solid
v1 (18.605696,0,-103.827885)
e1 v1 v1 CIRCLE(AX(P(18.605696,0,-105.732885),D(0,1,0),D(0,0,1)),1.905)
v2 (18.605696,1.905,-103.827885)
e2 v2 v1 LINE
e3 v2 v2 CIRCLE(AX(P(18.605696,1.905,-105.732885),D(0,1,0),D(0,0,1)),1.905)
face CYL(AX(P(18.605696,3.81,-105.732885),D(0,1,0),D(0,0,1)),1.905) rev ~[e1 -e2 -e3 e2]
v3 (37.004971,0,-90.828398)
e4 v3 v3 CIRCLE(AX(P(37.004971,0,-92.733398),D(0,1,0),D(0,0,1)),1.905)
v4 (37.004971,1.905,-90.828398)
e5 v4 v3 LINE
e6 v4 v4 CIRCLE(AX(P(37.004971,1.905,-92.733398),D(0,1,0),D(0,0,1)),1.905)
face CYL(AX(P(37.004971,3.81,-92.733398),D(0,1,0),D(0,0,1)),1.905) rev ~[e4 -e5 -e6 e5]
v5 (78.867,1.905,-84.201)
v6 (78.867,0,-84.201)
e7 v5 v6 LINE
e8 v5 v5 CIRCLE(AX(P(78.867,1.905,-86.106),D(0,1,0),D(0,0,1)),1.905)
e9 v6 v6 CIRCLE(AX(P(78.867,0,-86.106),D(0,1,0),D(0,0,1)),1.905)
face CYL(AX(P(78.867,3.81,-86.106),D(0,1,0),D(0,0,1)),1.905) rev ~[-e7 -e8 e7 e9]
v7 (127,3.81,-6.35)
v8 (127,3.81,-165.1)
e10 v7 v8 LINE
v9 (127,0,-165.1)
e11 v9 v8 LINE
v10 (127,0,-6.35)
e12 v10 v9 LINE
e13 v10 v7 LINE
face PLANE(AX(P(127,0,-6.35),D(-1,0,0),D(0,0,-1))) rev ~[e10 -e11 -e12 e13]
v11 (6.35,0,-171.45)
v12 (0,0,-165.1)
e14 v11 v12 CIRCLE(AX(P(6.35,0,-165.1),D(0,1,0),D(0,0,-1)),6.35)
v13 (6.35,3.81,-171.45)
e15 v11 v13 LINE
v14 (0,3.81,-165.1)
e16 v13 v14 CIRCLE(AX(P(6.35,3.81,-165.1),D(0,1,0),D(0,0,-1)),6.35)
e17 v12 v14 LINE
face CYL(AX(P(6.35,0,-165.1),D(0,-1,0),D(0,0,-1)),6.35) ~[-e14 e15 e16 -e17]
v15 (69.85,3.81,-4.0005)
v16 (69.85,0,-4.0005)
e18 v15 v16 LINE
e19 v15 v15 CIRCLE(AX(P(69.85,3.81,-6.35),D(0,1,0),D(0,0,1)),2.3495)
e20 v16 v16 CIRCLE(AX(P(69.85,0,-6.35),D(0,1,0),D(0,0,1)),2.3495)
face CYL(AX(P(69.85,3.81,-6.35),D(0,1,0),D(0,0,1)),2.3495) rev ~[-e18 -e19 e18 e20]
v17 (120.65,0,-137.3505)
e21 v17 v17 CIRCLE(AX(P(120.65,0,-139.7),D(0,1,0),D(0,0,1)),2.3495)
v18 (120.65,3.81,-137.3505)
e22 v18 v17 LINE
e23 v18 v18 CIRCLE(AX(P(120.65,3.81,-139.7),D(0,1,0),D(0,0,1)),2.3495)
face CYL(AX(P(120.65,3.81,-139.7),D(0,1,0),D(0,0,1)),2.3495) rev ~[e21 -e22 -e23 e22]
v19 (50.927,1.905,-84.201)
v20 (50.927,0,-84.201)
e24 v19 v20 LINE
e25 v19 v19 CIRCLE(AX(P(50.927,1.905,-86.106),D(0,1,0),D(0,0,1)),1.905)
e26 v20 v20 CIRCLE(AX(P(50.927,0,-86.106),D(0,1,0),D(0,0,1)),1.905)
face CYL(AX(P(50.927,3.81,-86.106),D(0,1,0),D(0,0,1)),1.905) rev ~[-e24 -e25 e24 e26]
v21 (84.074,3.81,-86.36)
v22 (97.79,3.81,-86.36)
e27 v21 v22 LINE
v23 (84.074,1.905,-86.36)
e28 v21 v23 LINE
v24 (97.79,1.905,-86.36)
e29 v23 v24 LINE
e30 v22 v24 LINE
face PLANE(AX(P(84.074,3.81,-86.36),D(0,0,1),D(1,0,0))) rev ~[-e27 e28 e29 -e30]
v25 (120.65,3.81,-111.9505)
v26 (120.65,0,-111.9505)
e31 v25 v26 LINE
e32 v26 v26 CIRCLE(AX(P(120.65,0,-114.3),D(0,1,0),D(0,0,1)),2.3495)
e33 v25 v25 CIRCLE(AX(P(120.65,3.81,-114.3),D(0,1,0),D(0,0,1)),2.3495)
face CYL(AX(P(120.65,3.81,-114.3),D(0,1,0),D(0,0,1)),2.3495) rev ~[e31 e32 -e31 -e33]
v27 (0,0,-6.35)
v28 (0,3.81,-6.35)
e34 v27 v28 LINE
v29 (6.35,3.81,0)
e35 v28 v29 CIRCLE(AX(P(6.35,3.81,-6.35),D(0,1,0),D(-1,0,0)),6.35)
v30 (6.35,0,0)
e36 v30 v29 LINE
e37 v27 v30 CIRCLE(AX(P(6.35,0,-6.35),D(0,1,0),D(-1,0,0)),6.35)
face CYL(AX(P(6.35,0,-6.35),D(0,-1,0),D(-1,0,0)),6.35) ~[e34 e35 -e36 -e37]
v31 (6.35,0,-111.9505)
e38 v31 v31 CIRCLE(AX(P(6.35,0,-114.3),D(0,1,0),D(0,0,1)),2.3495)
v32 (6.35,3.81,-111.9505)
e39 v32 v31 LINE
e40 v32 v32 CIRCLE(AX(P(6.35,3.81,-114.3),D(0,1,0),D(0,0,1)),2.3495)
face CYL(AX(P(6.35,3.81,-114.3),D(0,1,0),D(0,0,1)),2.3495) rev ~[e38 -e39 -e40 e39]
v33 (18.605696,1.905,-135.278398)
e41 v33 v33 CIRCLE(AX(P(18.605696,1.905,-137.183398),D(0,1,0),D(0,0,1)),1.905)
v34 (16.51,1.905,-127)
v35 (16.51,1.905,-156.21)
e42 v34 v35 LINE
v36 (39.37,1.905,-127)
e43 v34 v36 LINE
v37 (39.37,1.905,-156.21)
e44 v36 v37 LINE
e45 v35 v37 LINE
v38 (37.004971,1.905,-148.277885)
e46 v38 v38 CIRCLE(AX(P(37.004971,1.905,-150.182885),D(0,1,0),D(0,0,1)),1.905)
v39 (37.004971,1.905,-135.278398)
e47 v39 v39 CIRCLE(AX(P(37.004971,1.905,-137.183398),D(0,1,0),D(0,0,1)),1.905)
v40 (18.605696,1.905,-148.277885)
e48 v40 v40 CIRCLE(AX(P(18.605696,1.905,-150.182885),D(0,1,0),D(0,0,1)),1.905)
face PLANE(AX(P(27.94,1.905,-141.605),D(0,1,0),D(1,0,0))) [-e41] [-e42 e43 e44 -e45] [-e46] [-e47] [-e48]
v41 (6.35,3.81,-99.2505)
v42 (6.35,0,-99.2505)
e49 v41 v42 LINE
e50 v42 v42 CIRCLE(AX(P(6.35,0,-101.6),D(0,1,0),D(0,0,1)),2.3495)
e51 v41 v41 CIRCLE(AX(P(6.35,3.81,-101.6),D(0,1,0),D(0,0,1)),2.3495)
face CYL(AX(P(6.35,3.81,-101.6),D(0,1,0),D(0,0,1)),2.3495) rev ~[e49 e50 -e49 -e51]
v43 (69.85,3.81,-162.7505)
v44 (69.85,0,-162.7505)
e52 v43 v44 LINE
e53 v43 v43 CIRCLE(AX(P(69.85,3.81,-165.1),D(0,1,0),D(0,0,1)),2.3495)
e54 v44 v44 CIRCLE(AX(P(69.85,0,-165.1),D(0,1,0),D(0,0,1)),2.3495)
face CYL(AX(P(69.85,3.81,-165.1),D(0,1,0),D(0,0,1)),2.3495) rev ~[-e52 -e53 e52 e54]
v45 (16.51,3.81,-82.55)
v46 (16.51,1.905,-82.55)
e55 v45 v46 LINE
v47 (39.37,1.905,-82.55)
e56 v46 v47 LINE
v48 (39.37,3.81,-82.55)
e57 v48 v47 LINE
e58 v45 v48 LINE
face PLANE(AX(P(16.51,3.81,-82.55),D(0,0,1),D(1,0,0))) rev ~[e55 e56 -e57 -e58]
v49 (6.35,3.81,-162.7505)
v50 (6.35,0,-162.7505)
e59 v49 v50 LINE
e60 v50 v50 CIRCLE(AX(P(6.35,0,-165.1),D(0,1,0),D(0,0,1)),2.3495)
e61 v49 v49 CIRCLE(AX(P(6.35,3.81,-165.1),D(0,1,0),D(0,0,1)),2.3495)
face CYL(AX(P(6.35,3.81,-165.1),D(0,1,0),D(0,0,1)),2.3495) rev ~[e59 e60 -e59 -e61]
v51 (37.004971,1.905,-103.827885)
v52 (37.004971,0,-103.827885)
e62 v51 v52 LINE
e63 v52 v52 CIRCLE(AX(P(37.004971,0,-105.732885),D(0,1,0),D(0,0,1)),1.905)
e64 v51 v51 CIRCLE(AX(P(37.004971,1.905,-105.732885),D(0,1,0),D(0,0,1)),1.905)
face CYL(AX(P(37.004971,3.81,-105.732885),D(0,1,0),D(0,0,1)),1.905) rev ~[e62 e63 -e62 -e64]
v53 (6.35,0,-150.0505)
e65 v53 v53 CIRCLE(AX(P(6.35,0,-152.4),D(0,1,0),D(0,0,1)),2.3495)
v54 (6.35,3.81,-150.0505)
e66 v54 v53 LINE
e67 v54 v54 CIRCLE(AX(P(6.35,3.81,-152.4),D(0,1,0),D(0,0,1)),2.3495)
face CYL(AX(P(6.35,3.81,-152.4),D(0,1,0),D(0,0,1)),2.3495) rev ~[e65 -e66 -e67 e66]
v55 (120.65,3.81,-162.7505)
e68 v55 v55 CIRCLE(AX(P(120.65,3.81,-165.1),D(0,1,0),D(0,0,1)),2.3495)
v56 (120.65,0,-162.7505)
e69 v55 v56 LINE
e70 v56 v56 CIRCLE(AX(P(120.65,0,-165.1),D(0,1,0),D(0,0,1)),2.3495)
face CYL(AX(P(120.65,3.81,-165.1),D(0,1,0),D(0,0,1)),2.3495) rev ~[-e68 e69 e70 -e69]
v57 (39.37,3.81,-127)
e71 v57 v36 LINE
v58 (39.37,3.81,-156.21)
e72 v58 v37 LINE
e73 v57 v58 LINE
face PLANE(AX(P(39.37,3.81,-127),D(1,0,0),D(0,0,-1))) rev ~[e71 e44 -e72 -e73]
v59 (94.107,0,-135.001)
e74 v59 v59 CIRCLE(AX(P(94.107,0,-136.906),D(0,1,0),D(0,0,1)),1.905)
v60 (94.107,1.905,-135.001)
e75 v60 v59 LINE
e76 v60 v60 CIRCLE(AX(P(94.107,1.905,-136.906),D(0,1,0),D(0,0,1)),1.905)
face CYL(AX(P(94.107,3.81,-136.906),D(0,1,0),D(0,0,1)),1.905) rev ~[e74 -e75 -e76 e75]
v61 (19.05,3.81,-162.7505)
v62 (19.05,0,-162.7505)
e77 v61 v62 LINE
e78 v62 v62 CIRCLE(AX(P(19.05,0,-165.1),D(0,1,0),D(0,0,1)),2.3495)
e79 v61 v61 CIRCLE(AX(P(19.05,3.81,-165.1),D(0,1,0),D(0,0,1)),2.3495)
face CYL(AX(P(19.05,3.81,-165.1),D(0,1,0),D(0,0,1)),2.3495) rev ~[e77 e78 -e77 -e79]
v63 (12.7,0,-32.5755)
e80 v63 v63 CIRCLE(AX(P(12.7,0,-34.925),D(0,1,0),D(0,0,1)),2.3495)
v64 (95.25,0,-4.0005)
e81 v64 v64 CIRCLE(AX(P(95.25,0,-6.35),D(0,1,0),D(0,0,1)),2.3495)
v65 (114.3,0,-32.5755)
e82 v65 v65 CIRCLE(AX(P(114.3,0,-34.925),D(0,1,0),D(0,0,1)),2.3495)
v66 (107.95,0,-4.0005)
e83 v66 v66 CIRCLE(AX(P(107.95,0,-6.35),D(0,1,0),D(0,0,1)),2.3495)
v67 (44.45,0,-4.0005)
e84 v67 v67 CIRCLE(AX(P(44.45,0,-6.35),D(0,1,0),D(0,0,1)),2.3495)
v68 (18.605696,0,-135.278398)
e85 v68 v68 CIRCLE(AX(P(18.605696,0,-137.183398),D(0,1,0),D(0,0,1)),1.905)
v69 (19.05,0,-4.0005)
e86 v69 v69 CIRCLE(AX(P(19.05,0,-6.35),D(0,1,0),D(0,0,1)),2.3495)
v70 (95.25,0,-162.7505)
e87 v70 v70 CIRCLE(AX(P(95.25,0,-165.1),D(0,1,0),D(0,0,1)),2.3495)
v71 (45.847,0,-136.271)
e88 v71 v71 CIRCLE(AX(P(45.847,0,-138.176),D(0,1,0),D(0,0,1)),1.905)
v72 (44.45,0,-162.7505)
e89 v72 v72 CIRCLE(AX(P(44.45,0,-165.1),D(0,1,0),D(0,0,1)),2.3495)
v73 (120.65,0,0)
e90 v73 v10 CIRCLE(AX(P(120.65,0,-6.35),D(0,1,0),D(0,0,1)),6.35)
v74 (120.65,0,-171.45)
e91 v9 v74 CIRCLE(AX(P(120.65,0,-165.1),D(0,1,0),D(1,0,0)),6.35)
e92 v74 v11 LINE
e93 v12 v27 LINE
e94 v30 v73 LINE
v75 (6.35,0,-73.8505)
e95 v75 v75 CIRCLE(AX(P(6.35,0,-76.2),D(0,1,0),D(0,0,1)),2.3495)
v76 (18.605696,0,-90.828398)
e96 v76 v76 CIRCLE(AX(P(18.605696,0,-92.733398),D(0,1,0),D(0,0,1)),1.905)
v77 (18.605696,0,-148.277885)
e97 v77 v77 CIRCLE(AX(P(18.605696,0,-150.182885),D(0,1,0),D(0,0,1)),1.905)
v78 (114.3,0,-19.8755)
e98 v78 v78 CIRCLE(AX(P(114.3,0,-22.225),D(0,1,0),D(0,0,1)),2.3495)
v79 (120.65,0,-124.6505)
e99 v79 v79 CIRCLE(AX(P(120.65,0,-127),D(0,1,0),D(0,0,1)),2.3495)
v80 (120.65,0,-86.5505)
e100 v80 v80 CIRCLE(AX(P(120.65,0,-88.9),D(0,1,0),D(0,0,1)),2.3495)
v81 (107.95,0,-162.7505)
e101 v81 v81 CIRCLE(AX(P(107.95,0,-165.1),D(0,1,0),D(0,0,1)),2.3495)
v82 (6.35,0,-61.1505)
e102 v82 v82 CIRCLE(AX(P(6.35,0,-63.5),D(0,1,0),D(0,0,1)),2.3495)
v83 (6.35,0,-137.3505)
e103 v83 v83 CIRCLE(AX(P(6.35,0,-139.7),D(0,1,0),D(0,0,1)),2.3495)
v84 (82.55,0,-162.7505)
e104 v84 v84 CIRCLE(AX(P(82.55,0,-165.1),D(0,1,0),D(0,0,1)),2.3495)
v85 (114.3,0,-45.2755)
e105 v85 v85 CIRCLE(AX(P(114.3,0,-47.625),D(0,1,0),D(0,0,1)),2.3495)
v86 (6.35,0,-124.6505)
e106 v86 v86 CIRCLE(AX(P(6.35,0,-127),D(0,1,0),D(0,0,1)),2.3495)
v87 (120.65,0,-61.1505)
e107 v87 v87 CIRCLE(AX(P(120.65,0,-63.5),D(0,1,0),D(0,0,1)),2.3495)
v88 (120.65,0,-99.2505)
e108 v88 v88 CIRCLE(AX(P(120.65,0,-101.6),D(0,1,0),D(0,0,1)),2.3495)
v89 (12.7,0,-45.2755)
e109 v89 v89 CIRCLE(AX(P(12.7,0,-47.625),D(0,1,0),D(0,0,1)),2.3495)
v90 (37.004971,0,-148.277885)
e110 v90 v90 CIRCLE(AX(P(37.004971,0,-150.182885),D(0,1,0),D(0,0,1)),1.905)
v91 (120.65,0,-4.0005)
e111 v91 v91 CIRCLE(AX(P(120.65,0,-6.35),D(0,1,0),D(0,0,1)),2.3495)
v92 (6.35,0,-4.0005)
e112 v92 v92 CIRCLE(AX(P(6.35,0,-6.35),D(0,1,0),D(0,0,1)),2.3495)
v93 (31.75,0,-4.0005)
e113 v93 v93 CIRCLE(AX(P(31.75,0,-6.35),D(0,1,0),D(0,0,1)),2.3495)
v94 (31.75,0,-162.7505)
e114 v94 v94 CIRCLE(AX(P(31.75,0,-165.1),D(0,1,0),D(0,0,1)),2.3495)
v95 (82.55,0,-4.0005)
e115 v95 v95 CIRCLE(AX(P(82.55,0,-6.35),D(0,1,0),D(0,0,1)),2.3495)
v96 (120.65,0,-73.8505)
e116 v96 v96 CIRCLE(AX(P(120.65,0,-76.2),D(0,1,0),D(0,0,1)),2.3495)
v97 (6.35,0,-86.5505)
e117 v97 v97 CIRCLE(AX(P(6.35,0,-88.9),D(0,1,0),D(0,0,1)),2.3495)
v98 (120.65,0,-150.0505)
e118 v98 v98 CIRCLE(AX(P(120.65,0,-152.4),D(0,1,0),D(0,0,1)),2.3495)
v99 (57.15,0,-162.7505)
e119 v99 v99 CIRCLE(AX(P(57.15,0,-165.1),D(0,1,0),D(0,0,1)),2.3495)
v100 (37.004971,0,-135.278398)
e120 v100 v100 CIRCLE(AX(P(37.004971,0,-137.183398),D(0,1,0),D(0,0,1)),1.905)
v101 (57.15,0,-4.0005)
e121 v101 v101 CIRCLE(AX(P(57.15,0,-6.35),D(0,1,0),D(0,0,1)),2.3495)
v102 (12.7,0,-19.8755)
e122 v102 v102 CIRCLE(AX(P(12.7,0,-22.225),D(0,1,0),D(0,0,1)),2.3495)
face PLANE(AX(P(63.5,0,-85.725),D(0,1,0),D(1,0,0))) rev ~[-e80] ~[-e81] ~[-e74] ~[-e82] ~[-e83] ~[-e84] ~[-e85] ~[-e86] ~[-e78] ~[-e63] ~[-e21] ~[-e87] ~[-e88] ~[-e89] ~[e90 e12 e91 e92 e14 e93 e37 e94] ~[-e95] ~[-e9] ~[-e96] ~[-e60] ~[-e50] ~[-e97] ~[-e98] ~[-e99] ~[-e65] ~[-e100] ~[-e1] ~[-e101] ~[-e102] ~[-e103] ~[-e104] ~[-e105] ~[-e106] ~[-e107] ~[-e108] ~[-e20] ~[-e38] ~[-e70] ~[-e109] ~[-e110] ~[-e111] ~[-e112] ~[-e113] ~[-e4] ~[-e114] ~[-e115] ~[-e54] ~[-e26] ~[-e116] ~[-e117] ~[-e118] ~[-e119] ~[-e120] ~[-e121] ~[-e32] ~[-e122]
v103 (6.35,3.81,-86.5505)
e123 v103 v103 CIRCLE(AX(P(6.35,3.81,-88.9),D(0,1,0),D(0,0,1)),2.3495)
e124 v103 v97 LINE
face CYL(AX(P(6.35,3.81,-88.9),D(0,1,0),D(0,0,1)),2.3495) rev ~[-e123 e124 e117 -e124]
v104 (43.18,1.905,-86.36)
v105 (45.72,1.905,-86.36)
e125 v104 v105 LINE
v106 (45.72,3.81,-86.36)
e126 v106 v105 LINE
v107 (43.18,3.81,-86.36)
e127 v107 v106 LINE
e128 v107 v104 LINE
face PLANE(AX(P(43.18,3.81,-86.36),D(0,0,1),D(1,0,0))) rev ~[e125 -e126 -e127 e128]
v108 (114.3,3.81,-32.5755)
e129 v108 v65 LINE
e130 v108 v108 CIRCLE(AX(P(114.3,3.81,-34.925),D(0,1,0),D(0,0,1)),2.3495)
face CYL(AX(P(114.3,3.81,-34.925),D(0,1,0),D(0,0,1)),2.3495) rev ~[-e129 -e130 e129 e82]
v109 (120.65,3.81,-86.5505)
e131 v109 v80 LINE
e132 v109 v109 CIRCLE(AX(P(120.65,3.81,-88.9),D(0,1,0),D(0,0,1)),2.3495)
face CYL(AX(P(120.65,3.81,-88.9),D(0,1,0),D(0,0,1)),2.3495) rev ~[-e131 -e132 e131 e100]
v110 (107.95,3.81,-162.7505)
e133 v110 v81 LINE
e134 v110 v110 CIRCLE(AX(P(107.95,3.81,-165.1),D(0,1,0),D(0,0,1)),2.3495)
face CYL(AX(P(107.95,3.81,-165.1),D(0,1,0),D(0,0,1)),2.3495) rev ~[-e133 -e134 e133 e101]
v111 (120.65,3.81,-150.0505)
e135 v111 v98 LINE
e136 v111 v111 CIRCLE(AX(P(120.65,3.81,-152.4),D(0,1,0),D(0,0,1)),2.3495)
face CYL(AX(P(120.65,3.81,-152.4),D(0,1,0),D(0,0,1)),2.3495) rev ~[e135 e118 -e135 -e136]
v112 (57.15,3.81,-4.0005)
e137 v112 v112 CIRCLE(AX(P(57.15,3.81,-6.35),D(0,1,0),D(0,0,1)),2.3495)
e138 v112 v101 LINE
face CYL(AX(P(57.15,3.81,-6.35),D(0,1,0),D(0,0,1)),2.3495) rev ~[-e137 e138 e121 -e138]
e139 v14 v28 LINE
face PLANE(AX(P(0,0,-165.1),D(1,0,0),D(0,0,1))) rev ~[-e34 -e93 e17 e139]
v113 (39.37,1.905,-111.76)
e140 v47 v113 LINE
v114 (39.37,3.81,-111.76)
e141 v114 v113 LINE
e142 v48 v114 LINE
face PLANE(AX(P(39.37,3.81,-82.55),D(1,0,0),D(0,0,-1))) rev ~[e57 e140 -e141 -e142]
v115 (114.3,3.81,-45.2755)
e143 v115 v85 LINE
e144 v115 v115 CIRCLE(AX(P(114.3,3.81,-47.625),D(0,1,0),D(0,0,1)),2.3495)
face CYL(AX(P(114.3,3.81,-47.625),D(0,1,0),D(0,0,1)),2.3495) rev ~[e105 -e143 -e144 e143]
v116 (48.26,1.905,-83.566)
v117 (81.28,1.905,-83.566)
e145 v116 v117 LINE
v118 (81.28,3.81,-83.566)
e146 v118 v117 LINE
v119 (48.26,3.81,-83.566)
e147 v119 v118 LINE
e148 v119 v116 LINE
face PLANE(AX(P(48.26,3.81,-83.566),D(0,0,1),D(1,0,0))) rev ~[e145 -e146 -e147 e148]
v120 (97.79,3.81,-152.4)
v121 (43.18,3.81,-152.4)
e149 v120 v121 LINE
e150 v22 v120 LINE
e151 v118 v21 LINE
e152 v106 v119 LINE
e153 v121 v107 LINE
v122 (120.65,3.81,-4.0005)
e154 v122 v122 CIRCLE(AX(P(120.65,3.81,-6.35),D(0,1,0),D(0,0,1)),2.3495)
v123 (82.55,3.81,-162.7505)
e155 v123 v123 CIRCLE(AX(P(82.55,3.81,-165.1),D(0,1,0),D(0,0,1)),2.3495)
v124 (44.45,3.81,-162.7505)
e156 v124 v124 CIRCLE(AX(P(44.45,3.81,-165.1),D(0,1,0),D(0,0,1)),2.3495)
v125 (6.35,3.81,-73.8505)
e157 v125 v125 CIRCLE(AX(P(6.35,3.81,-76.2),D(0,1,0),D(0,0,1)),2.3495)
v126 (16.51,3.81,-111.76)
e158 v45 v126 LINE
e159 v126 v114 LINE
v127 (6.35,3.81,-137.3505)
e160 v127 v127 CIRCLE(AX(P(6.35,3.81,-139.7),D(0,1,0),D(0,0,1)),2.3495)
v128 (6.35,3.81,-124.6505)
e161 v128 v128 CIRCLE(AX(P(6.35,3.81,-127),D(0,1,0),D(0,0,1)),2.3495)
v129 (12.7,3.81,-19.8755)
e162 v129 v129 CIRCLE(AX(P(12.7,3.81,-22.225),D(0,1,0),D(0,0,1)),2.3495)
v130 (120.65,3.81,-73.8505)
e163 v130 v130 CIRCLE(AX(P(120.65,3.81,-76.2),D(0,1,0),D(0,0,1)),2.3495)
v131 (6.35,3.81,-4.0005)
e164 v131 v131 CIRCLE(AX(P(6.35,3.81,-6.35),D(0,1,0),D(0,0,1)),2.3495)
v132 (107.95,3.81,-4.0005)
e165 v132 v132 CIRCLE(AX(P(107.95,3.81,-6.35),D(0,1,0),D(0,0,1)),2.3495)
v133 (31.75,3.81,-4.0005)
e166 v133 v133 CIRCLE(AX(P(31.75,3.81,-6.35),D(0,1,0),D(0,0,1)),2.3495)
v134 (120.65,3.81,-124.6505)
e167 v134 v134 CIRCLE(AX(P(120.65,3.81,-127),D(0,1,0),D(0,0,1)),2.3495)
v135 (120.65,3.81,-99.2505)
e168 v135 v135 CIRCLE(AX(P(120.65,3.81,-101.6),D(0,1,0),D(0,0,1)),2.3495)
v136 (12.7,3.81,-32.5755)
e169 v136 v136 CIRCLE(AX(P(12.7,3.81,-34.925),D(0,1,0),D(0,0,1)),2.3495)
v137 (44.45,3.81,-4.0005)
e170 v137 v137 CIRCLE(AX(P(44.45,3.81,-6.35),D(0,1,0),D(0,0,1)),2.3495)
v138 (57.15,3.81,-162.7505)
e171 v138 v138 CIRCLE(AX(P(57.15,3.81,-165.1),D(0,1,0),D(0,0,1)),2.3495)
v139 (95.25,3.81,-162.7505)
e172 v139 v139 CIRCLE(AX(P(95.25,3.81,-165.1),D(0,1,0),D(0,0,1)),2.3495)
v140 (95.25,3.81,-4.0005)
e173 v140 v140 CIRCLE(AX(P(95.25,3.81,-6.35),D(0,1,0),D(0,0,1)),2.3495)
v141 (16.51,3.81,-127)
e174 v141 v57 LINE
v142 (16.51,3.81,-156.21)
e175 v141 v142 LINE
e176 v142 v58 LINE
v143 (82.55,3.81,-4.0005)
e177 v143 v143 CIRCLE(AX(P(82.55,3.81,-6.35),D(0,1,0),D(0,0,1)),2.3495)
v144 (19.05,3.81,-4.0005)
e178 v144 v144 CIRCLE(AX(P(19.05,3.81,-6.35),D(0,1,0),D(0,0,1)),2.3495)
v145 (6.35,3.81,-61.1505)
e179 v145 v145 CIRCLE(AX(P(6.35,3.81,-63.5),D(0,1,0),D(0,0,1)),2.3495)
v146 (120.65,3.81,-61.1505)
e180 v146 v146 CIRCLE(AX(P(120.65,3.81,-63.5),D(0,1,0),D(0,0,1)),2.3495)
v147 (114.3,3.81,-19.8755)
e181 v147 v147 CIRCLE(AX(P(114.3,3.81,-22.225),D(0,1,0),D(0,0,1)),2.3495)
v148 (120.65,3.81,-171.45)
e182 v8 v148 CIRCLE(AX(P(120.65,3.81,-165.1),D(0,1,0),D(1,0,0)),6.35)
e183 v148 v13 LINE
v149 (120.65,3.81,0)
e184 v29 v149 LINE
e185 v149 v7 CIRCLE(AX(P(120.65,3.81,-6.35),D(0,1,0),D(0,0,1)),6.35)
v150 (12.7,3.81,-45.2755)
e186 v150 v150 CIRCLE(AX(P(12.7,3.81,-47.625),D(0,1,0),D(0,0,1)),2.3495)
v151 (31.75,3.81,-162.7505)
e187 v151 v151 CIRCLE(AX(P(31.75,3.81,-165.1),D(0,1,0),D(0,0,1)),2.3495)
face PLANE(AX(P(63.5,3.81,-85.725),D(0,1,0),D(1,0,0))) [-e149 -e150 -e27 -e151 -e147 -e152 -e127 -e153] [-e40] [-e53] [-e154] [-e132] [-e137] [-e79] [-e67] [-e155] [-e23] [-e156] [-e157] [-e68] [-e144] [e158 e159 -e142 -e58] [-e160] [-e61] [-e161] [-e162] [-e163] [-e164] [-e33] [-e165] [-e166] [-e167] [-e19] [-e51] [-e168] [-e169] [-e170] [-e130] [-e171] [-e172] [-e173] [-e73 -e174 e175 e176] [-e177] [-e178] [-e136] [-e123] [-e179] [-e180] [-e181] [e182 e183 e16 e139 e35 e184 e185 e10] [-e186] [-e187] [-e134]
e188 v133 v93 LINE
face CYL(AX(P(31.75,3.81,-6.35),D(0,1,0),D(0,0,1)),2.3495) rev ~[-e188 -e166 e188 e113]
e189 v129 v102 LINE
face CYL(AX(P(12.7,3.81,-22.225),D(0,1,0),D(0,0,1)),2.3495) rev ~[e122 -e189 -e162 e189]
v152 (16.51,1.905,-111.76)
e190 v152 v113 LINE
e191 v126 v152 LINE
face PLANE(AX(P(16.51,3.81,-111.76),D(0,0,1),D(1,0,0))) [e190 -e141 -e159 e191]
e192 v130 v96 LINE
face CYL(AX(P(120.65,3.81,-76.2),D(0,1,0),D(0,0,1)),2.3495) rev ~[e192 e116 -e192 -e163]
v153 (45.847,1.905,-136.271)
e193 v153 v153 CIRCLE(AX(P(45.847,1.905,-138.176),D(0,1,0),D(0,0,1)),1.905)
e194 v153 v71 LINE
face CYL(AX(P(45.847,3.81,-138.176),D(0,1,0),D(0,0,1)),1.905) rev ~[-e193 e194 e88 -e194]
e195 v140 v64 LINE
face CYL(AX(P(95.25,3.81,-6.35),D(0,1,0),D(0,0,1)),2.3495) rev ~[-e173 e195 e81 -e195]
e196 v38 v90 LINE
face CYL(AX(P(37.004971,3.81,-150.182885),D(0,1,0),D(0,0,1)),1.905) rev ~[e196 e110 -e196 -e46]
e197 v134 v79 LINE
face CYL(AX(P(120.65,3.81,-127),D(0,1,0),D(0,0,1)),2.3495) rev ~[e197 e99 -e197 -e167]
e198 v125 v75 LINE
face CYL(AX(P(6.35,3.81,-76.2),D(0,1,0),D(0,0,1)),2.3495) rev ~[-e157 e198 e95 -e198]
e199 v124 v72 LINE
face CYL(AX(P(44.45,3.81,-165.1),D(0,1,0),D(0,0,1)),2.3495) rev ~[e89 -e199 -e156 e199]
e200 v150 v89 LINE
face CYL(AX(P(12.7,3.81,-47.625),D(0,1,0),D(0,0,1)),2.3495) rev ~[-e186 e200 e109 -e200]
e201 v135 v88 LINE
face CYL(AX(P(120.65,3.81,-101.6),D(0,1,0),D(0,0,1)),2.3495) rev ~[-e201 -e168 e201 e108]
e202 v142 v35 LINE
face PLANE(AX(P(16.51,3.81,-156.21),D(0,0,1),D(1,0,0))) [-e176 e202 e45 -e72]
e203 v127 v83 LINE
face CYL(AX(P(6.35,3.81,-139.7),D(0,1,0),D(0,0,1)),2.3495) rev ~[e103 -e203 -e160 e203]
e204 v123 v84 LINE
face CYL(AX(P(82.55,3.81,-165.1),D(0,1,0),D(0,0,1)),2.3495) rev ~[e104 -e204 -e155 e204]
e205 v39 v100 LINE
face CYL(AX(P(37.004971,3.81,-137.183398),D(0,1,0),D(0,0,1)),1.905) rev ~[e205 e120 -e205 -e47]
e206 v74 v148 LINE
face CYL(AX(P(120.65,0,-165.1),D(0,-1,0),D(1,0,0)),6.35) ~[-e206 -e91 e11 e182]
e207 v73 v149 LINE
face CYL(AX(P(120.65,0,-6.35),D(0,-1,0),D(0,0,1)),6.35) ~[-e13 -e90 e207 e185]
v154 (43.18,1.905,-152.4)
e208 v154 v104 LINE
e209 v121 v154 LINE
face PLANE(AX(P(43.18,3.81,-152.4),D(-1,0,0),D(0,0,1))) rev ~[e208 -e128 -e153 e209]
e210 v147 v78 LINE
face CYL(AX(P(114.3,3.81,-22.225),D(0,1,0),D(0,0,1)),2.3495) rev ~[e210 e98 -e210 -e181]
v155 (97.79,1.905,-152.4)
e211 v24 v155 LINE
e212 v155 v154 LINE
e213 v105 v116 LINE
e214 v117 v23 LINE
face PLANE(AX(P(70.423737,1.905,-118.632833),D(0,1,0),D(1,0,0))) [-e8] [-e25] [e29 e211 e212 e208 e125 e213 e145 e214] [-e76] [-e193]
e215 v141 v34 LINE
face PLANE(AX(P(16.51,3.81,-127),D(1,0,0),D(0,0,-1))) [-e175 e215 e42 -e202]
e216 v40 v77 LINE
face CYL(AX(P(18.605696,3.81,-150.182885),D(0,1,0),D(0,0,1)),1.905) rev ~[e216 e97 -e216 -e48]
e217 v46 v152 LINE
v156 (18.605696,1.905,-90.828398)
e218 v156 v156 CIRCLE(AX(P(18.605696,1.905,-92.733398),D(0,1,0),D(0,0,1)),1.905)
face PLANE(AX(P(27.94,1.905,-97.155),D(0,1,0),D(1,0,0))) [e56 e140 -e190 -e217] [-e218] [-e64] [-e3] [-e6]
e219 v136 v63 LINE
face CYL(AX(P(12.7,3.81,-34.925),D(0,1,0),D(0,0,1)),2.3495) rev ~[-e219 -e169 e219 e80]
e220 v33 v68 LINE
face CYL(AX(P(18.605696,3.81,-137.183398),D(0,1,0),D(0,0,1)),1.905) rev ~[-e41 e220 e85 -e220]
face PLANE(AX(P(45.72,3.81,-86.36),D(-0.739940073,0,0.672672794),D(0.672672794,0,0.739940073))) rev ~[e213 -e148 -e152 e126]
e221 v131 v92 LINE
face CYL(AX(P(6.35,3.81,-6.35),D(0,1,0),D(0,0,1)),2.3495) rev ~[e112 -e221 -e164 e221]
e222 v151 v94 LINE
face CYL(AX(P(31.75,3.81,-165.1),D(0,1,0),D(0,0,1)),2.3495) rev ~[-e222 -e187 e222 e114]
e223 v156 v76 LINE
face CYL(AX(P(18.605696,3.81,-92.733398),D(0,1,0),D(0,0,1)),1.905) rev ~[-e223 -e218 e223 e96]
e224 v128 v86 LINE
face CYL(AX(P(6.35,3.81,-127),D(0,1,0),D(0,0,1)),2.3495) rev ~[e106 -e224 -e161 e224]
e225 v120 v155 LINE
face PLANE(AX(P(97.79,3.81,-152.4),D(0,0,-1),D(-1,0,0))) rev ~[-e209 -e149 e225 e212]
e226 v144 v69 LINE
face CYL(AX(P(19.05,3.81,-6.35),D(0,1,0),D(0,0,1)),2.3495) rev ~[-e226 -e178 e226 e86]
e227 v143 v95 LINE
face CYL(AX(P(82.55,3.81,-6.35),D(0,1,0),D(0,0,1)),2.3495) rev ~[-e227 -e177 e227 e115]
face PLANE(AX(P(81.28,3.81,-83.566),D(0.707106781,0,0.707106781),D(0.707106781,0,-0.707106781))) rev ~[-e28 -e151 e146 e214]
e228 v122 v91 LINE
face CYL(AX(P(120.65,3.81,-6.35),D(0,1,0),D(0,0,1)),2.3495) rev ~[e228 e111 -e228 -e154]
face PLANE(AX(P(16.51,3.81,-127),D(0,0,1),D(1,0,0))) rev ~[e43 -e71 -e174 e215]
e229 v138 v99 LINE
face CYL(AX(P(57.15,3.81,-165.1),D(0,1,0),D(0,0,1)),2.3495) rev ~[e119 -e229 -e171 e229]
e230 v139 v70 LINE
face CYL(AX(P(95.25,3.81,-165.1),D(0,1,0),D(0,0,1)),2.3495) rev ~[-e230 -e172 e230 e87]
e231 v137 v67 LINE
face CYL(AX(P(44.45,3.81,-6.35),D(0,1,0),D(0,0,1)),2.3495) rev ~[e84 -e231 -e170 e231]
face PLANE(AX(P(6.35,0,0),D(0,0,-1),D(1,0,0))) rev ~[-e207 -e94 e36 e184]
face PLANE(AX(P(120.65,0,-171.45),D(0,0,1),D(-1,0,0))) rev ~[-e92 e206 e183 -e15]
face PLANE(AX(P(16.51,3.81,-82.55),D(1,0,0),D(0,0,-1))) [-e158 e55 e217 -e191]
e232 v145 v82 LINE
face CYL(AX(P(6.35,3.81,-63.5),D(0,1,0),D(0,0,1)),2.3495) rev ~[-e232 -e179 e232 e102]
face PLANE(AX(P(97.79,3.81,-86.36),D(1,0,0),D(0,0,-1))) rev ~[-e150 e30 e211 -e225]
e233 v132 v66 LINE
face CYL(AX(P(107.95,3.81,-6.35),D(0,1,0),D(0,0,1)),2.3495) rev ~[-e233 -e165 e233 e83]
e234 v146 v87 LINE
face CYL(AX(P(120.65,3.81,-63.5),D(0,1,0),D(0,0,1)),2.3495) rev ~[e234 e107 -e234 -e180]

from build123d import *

# Parameters (mm, degrees)
PLATE_EXTRUDE_DEPTH               = 3.81
SKETCH2_R                         = 2.3495
OUTER_HOLE_CUT_DEPTH              = 214.397794272
SKETCH3_R                         = 1.905
ARDUINO_SHAPE_CUT_DEPTH           = 1.905
SKETCH4_W                         = 22.86
SKETCH4_H                         = 29.21
SKETCH4_R                         = 1.905
HG7881_CUT_DEPTH                  = 1.905
SKETCH5_R                         = 1.905
ARDUINO_AND_HG7881_HOLE_CUT_DEPTH = 214.397794272


with BuildPart() as part:
    # Sketch1 → Plate Extrude (new body)
    with BuildSketch(Plane(origin=(0, 0, 0), x_dir=(1, 0, 0), z_dir=(0, 1, 0))):
        with BuildLine():
            Line((6.35, 0), (120.65, 0))
            ThreePointArc((120.65, 0), (125.140128061, 1.859871939), (127, 6.35))
            Line((127, 6.35), (127, 165.1))
            ThreePointArc((127, 165.1), (125.140128061, 169.590128061), (120.65, 171.45))
            Line((120.65, 171.45), (6.35, 171.45))
            ThreePointArc((6.35, 171.45), (1.859871939, 169.590128061), (0, 165.1))
            Line((0, 165.1), (0, 6.35))
            ThreePointArc((0, 6.35), (1.859871939, 1.859871939), (6.35, 0))
        make_face()
    extrude(amount=PLATE_EXTRUDE_DEPTH)

    # Sketch2 → Outer Hole Cut (cut, through all)
    with BuildSketch(Plane(origin=(0, 3.81, 0), x_dir=(1, 0, 0), z_dir=(0, 1, 0))):
        with Locations(Location((6.35, 165.1, 0), (0, 0, 270))):
            Circle(SKETCH2_R)
        with Locations(Location((19.05, 165.1, 0), (0, 0, 270))):
            Circle(SKETCH2_R)
        with Locations(Location((31.75, 165.1, 0), (0, 0, 270))):
            Circle(SKETCH2_R)
        with Locations(Location((44.45, 165.1, 0), (0, 0, 270))):
            Circle(SKETCH2_R)
        with Locations(Location((57.15, 165.1, 0), (0, 0, 270))):
            Circle(SKETCH2_R)
        with Locations(Location((69.85, 165.1, 0), (0, 0, 270))):
            Circle(SKETCH2_R)
        with Locations(Location((82.55, 165.1, 0), (0, 0, 270))):
            Circle(SKETCH2_R)
        with Locations(Location((95.25, 165.1, 0), (0, 0, 270))):
            Circle(SKETCH2_R)
        with Locations(Location((107.95, 165.1, 0), (0, 0, 270))):
            Circle(SKETCH2_R)
        with Locations(Location((120.65, 165.1, 0), (0, 0, 270))):
            Circle(SKETCH2_R)
        with Locations(Location((6.35, 152.4, 0), (0, 0, 270))):
            Circle(SKETCH2_R)
        with Locations(Location((120.65, 152.4, 0), (0, 0, 270))):
            Circle(SKETCH2_R)
        with Locations(Location((6.35, 139.7, 0), (0, 0, 270))):
            Circle(SKETCH2_R)
        with Locations(Location((120.65, 139.7, 0), (0, 0, 270))):
            Circle(SKETCH2_R)
        with Locations(Location((6.35, 127, 0), (0, 0, 270))):
            Circle(SKETCH2_R)
        with Locations(Location((120.65, 127, 0), (0, 0, 270))):
            Circle(SKETCH2_R)
        with Locations(Location((6.35, 114.3, 0), (0, 0, 270))):
            Circle(SKETCH2_R)
        with Locations(Location((120.65, 114.3, 0), (0, 0, 270))):
            Circle(SKETCH2_R)
        with Locations(Location((6.35, 101.6, 0), (0, 0, 270))):
            Circle(SKETCH2_R)
        with Locations(Location((120.65, 101.6, 0), (0, 0, 270))):
            Circle(SKETCH2_R)
        with Locations(Location((6.35, 88.9, 0), (0, 0, 270))):
            Circle(SKETCH2_R)
        with Locations(Location((120.65, 88.9, 0), (0, 0, 270))):
            Circle(SKETCH2_R)
        with Locations(Location((6.35, 76.2, 0), (0, 0, 270))):
            Circle(SKETCH2_R)
        with Locations(Location((120.65, 76.2, 0), (0, 0, 270))):
            Circle(SKETCH2_R)
        with Locations(Location((6.35, 63.5, 0), (0, 0, 270))):
            Circle(SKETCH2_R)
        with Locations(Location((120.65, 63.5, 0), (0, 0, 270))):
            Circle(SKETCH2_R)
        with Locations(Location((6.35, 6.35, 0), (0, 0, 270))):
            Circle(SKETCH2_R)
        with Locations(Location((19.05, 6.35, 0), (0, 0, 270))):
            Circle(SKETCH2_R)
        with Locations(Location((31.75, 6.35, 0), (0, 0, 270))):
            Circle(SKETCH2_R)
        with Locations(Location((44.45, 6.35, 0), (0, 0, 270))):
            Circle(SKETCH2_R)
        with Locations(Location((57.15, 6.35, 0), (0, 0, 270))):
            Circle(SKETCH2_R)
        with Locations(Location((69.85, 6.35, 0), (0, 0, 270))):
            Circle(SKETCH2_R)
        with Locations(Location((82.55, 6.35, 0), (0, 0, 270))):
            Circle(SKETCH2_R)
        with Locations(Location((95.25, 6.35, 0), (0, 0, 270))):
            Circle(SKETCH2_R)
        with Locations(Location((107.95, 6.35, 0), (0, 0, 270))):
            Circle(SKETCH2_R)
        with Locations(Location((120.65, 6.35, 0), (0, 0, 270))):
            Circle(SKETCH2_R)
        with Locations(Location((12.7, 22.225, 0), (0, 0, 270))):
            Circle(SKETCH2_R)
        with Locations(Location((12.7, 34.925, 0), (0, 0, 270))):
            Circle(SKETCH2_R)
        with Locations(Location((12.7, 47.625, 0), (0, 0, 270))):
            Circle(SKETCH2_R)
        with Locations(Location((114.3, 47.625, 0), (0, 0, 270))):
            Circle(SKETCH2_R)
        with Locations(Location((114.3, 34.925, 0), (0, 0, 270))):
            Circle(SKETCH2_R)
        with Locations(Location((114.3, 22.225, 0), (0, 0, 270))):
            Circle(SKETCH2_R)
    extrude(amount=-OUTER_HOLE_CUT_DEPTH, mode=Mode.SUBTRACT)

    # Sketch3 → Arduino Shape Cut (cut)
    with BuildSketch(Plane(origin=(0, 3.81, 0), x_dir=(1, 0, 0), z_dir=(0, 1, 0))):
        Polygon((48.26, 83.566), (81.28, 83.566), (84.074, 86.36), (97.79, 86.36), (97.79, 152.4), (43.18, 152.4), (43.18, 86.36), (45.72, 86.36), align=None)
        with Locations(Location((50.927, 86.106, 0), (0, 0, 270))):
            Circle(SKETCH3_R, mode=Mode.SUBTRACT)
        with Locations(Location((78.867, 86.106, 0), (0, 0, 270))):
            Circle(SKETCH3_R, mode=Mode.SUBTRACT)
        with Locations(Location((45.847, 138.176, 0), (0, 0, 270))):
            Circle(SKETCH3_R, mode=Mode.SUBTRACT)
        with Locations(Location((94.107, 136.906, 0), (0, 0, 270))):
            Circle(SKETCH3_R, mode=Mode.SUBTRACT)
    extrude(amount=-ARDUINO_SHAPE_CUT_DEPTH, mode=Mode.SUBTRACT)

    # Sketch4 → HG7881 Cut (cut)
    # profile 1 of 2: a face of its own
    with BuildSketch(Plane(origin=(0, 3.81, 0), x_dir=(1, 0, 0), z_dir=(0, 1, 0))):
        with Locations((27.94, 141.605)):
            Rectangle(SKETCH4_W, SKETCH4_H)
        with Locations(Location((37.004970647, 137.183397888, 0), (0, 0, 270))):
            Circle(SKETCH4_R, mode=Mode.SUBTRACT)
        with Locations(Location((37.004970647, 150.182885458, 0), (0, 0, 270))):
            Circle(SKETCH4_R, mode=Mode.SUBTRACT)
        with Locations(Location((18.605695933, 150.182885458, 0), (0, 0, 270))):
            Circle(SKETCH4_R, mode=Mode.SUBTRACT)
        with Locations(Location((18.605695933, 137.183397888, 0), (0, 0, 270))):
            Circle(SKETCH4_R, mode=Mode.SUBTRACT)
    # profile 2 of 2: a face of its own
    with BuildSketch(Plane(origin=(0, 3.81, 0), x_dir=(1, 0, 0), z_dir=(0, 1, 0))):
        with Locations((27.94, 97.155)):
            Rectangle(SKETCH4_W, SKETCH4_H)
        with Locations(Location((37.004970647, 92.733397888, 0), (0, 0, 270))):
            Circle(SKETCH4_R, mode=Mode.SUBTRACT)
        with Locations(Location((37.004970647, 105.732885458, 0), (0, 0, 270))):
            Circle(SKETCH4_R, mode=Mode.SUBTRACT)
        with Locations(Location((18.605695933, 105.732885458, 0), (0, 0, 270))):
            Circle(SKETCH4_R, mode=Mode.SUBTRACT)
        with Locations(Location((18.605695933, 92.733397888, 0), (0, 0, 270))):
            Circle(SKETCH4_R, mode=Mode.SUBTRACT)
    extrude(amount=-HG7881_CUT_DEPTH, mode=Mode.SUBTRACT)

    # Sketch5 → Arduino and HG7881 Hole Cut (cut, through all)
    with BuildSketch(Plane(origin=(0, 3.81, 0), x_dir=(1, 0, 0), z_dir=(0, 1, 0))):
        with Locations(Location((94.107, 136.906, 0), (0, 0, 270))):
            Circle(SKETCH5_R)
        with Locations(Location((78.867, 86.106, 0), (0, 0, 270))):
            Circle(SKETCH5_R)
        with Locations(Location((50.927, 86.106, 0), (0, 0, 270))):
            Circle(SKETCH5_R)
        with Locations(Location((45.847, 138.176, 0), (0, 0, 270))):
            Circle(SKETCH5_R)
        with Locations(Location((18.605695933, 150.182885458, 0), (0, 0, 270))):
            Circle(SKETCH5_R)
        with Locations(Location((37.004970647, 150.182885458, 0), (0, 0, 270))):
            Circle(SKETCH5_R)
        with Locations(Location((37.004970647, 137.183397888, 0), (0, 0, 270))):
            Circle(SKETCH5_R)
        with Locations(Location((18.605695933, 137.183397888, 0), (0, 0, 270))):
            Circle(SKETCH5_R)
        with Locations(Location((18.605695933, 105.732885458, 0), (0, 0, 270))):
            Circle(SKETCH5_R)
        with Locations(Location((18.605695933, 92.733397888, 0), (0, 0, 270))):
            Circle(SKETCH5_R)
        with Locations(Location((37.004970647, 92.733397888, 0), (0, 0, 270))):
            Circle(SKETCH5_R)
        with Locations(Location((37.004970647, 105.732885458, 0), (0, 0, 270))):
            Circle(SKETCH5_R)
    extrude(amount=-ARDUINO_AND_HG7881_HOLE_CUT_DEPTH, mode=Mode.SUBTRACT)


solid = part.part
